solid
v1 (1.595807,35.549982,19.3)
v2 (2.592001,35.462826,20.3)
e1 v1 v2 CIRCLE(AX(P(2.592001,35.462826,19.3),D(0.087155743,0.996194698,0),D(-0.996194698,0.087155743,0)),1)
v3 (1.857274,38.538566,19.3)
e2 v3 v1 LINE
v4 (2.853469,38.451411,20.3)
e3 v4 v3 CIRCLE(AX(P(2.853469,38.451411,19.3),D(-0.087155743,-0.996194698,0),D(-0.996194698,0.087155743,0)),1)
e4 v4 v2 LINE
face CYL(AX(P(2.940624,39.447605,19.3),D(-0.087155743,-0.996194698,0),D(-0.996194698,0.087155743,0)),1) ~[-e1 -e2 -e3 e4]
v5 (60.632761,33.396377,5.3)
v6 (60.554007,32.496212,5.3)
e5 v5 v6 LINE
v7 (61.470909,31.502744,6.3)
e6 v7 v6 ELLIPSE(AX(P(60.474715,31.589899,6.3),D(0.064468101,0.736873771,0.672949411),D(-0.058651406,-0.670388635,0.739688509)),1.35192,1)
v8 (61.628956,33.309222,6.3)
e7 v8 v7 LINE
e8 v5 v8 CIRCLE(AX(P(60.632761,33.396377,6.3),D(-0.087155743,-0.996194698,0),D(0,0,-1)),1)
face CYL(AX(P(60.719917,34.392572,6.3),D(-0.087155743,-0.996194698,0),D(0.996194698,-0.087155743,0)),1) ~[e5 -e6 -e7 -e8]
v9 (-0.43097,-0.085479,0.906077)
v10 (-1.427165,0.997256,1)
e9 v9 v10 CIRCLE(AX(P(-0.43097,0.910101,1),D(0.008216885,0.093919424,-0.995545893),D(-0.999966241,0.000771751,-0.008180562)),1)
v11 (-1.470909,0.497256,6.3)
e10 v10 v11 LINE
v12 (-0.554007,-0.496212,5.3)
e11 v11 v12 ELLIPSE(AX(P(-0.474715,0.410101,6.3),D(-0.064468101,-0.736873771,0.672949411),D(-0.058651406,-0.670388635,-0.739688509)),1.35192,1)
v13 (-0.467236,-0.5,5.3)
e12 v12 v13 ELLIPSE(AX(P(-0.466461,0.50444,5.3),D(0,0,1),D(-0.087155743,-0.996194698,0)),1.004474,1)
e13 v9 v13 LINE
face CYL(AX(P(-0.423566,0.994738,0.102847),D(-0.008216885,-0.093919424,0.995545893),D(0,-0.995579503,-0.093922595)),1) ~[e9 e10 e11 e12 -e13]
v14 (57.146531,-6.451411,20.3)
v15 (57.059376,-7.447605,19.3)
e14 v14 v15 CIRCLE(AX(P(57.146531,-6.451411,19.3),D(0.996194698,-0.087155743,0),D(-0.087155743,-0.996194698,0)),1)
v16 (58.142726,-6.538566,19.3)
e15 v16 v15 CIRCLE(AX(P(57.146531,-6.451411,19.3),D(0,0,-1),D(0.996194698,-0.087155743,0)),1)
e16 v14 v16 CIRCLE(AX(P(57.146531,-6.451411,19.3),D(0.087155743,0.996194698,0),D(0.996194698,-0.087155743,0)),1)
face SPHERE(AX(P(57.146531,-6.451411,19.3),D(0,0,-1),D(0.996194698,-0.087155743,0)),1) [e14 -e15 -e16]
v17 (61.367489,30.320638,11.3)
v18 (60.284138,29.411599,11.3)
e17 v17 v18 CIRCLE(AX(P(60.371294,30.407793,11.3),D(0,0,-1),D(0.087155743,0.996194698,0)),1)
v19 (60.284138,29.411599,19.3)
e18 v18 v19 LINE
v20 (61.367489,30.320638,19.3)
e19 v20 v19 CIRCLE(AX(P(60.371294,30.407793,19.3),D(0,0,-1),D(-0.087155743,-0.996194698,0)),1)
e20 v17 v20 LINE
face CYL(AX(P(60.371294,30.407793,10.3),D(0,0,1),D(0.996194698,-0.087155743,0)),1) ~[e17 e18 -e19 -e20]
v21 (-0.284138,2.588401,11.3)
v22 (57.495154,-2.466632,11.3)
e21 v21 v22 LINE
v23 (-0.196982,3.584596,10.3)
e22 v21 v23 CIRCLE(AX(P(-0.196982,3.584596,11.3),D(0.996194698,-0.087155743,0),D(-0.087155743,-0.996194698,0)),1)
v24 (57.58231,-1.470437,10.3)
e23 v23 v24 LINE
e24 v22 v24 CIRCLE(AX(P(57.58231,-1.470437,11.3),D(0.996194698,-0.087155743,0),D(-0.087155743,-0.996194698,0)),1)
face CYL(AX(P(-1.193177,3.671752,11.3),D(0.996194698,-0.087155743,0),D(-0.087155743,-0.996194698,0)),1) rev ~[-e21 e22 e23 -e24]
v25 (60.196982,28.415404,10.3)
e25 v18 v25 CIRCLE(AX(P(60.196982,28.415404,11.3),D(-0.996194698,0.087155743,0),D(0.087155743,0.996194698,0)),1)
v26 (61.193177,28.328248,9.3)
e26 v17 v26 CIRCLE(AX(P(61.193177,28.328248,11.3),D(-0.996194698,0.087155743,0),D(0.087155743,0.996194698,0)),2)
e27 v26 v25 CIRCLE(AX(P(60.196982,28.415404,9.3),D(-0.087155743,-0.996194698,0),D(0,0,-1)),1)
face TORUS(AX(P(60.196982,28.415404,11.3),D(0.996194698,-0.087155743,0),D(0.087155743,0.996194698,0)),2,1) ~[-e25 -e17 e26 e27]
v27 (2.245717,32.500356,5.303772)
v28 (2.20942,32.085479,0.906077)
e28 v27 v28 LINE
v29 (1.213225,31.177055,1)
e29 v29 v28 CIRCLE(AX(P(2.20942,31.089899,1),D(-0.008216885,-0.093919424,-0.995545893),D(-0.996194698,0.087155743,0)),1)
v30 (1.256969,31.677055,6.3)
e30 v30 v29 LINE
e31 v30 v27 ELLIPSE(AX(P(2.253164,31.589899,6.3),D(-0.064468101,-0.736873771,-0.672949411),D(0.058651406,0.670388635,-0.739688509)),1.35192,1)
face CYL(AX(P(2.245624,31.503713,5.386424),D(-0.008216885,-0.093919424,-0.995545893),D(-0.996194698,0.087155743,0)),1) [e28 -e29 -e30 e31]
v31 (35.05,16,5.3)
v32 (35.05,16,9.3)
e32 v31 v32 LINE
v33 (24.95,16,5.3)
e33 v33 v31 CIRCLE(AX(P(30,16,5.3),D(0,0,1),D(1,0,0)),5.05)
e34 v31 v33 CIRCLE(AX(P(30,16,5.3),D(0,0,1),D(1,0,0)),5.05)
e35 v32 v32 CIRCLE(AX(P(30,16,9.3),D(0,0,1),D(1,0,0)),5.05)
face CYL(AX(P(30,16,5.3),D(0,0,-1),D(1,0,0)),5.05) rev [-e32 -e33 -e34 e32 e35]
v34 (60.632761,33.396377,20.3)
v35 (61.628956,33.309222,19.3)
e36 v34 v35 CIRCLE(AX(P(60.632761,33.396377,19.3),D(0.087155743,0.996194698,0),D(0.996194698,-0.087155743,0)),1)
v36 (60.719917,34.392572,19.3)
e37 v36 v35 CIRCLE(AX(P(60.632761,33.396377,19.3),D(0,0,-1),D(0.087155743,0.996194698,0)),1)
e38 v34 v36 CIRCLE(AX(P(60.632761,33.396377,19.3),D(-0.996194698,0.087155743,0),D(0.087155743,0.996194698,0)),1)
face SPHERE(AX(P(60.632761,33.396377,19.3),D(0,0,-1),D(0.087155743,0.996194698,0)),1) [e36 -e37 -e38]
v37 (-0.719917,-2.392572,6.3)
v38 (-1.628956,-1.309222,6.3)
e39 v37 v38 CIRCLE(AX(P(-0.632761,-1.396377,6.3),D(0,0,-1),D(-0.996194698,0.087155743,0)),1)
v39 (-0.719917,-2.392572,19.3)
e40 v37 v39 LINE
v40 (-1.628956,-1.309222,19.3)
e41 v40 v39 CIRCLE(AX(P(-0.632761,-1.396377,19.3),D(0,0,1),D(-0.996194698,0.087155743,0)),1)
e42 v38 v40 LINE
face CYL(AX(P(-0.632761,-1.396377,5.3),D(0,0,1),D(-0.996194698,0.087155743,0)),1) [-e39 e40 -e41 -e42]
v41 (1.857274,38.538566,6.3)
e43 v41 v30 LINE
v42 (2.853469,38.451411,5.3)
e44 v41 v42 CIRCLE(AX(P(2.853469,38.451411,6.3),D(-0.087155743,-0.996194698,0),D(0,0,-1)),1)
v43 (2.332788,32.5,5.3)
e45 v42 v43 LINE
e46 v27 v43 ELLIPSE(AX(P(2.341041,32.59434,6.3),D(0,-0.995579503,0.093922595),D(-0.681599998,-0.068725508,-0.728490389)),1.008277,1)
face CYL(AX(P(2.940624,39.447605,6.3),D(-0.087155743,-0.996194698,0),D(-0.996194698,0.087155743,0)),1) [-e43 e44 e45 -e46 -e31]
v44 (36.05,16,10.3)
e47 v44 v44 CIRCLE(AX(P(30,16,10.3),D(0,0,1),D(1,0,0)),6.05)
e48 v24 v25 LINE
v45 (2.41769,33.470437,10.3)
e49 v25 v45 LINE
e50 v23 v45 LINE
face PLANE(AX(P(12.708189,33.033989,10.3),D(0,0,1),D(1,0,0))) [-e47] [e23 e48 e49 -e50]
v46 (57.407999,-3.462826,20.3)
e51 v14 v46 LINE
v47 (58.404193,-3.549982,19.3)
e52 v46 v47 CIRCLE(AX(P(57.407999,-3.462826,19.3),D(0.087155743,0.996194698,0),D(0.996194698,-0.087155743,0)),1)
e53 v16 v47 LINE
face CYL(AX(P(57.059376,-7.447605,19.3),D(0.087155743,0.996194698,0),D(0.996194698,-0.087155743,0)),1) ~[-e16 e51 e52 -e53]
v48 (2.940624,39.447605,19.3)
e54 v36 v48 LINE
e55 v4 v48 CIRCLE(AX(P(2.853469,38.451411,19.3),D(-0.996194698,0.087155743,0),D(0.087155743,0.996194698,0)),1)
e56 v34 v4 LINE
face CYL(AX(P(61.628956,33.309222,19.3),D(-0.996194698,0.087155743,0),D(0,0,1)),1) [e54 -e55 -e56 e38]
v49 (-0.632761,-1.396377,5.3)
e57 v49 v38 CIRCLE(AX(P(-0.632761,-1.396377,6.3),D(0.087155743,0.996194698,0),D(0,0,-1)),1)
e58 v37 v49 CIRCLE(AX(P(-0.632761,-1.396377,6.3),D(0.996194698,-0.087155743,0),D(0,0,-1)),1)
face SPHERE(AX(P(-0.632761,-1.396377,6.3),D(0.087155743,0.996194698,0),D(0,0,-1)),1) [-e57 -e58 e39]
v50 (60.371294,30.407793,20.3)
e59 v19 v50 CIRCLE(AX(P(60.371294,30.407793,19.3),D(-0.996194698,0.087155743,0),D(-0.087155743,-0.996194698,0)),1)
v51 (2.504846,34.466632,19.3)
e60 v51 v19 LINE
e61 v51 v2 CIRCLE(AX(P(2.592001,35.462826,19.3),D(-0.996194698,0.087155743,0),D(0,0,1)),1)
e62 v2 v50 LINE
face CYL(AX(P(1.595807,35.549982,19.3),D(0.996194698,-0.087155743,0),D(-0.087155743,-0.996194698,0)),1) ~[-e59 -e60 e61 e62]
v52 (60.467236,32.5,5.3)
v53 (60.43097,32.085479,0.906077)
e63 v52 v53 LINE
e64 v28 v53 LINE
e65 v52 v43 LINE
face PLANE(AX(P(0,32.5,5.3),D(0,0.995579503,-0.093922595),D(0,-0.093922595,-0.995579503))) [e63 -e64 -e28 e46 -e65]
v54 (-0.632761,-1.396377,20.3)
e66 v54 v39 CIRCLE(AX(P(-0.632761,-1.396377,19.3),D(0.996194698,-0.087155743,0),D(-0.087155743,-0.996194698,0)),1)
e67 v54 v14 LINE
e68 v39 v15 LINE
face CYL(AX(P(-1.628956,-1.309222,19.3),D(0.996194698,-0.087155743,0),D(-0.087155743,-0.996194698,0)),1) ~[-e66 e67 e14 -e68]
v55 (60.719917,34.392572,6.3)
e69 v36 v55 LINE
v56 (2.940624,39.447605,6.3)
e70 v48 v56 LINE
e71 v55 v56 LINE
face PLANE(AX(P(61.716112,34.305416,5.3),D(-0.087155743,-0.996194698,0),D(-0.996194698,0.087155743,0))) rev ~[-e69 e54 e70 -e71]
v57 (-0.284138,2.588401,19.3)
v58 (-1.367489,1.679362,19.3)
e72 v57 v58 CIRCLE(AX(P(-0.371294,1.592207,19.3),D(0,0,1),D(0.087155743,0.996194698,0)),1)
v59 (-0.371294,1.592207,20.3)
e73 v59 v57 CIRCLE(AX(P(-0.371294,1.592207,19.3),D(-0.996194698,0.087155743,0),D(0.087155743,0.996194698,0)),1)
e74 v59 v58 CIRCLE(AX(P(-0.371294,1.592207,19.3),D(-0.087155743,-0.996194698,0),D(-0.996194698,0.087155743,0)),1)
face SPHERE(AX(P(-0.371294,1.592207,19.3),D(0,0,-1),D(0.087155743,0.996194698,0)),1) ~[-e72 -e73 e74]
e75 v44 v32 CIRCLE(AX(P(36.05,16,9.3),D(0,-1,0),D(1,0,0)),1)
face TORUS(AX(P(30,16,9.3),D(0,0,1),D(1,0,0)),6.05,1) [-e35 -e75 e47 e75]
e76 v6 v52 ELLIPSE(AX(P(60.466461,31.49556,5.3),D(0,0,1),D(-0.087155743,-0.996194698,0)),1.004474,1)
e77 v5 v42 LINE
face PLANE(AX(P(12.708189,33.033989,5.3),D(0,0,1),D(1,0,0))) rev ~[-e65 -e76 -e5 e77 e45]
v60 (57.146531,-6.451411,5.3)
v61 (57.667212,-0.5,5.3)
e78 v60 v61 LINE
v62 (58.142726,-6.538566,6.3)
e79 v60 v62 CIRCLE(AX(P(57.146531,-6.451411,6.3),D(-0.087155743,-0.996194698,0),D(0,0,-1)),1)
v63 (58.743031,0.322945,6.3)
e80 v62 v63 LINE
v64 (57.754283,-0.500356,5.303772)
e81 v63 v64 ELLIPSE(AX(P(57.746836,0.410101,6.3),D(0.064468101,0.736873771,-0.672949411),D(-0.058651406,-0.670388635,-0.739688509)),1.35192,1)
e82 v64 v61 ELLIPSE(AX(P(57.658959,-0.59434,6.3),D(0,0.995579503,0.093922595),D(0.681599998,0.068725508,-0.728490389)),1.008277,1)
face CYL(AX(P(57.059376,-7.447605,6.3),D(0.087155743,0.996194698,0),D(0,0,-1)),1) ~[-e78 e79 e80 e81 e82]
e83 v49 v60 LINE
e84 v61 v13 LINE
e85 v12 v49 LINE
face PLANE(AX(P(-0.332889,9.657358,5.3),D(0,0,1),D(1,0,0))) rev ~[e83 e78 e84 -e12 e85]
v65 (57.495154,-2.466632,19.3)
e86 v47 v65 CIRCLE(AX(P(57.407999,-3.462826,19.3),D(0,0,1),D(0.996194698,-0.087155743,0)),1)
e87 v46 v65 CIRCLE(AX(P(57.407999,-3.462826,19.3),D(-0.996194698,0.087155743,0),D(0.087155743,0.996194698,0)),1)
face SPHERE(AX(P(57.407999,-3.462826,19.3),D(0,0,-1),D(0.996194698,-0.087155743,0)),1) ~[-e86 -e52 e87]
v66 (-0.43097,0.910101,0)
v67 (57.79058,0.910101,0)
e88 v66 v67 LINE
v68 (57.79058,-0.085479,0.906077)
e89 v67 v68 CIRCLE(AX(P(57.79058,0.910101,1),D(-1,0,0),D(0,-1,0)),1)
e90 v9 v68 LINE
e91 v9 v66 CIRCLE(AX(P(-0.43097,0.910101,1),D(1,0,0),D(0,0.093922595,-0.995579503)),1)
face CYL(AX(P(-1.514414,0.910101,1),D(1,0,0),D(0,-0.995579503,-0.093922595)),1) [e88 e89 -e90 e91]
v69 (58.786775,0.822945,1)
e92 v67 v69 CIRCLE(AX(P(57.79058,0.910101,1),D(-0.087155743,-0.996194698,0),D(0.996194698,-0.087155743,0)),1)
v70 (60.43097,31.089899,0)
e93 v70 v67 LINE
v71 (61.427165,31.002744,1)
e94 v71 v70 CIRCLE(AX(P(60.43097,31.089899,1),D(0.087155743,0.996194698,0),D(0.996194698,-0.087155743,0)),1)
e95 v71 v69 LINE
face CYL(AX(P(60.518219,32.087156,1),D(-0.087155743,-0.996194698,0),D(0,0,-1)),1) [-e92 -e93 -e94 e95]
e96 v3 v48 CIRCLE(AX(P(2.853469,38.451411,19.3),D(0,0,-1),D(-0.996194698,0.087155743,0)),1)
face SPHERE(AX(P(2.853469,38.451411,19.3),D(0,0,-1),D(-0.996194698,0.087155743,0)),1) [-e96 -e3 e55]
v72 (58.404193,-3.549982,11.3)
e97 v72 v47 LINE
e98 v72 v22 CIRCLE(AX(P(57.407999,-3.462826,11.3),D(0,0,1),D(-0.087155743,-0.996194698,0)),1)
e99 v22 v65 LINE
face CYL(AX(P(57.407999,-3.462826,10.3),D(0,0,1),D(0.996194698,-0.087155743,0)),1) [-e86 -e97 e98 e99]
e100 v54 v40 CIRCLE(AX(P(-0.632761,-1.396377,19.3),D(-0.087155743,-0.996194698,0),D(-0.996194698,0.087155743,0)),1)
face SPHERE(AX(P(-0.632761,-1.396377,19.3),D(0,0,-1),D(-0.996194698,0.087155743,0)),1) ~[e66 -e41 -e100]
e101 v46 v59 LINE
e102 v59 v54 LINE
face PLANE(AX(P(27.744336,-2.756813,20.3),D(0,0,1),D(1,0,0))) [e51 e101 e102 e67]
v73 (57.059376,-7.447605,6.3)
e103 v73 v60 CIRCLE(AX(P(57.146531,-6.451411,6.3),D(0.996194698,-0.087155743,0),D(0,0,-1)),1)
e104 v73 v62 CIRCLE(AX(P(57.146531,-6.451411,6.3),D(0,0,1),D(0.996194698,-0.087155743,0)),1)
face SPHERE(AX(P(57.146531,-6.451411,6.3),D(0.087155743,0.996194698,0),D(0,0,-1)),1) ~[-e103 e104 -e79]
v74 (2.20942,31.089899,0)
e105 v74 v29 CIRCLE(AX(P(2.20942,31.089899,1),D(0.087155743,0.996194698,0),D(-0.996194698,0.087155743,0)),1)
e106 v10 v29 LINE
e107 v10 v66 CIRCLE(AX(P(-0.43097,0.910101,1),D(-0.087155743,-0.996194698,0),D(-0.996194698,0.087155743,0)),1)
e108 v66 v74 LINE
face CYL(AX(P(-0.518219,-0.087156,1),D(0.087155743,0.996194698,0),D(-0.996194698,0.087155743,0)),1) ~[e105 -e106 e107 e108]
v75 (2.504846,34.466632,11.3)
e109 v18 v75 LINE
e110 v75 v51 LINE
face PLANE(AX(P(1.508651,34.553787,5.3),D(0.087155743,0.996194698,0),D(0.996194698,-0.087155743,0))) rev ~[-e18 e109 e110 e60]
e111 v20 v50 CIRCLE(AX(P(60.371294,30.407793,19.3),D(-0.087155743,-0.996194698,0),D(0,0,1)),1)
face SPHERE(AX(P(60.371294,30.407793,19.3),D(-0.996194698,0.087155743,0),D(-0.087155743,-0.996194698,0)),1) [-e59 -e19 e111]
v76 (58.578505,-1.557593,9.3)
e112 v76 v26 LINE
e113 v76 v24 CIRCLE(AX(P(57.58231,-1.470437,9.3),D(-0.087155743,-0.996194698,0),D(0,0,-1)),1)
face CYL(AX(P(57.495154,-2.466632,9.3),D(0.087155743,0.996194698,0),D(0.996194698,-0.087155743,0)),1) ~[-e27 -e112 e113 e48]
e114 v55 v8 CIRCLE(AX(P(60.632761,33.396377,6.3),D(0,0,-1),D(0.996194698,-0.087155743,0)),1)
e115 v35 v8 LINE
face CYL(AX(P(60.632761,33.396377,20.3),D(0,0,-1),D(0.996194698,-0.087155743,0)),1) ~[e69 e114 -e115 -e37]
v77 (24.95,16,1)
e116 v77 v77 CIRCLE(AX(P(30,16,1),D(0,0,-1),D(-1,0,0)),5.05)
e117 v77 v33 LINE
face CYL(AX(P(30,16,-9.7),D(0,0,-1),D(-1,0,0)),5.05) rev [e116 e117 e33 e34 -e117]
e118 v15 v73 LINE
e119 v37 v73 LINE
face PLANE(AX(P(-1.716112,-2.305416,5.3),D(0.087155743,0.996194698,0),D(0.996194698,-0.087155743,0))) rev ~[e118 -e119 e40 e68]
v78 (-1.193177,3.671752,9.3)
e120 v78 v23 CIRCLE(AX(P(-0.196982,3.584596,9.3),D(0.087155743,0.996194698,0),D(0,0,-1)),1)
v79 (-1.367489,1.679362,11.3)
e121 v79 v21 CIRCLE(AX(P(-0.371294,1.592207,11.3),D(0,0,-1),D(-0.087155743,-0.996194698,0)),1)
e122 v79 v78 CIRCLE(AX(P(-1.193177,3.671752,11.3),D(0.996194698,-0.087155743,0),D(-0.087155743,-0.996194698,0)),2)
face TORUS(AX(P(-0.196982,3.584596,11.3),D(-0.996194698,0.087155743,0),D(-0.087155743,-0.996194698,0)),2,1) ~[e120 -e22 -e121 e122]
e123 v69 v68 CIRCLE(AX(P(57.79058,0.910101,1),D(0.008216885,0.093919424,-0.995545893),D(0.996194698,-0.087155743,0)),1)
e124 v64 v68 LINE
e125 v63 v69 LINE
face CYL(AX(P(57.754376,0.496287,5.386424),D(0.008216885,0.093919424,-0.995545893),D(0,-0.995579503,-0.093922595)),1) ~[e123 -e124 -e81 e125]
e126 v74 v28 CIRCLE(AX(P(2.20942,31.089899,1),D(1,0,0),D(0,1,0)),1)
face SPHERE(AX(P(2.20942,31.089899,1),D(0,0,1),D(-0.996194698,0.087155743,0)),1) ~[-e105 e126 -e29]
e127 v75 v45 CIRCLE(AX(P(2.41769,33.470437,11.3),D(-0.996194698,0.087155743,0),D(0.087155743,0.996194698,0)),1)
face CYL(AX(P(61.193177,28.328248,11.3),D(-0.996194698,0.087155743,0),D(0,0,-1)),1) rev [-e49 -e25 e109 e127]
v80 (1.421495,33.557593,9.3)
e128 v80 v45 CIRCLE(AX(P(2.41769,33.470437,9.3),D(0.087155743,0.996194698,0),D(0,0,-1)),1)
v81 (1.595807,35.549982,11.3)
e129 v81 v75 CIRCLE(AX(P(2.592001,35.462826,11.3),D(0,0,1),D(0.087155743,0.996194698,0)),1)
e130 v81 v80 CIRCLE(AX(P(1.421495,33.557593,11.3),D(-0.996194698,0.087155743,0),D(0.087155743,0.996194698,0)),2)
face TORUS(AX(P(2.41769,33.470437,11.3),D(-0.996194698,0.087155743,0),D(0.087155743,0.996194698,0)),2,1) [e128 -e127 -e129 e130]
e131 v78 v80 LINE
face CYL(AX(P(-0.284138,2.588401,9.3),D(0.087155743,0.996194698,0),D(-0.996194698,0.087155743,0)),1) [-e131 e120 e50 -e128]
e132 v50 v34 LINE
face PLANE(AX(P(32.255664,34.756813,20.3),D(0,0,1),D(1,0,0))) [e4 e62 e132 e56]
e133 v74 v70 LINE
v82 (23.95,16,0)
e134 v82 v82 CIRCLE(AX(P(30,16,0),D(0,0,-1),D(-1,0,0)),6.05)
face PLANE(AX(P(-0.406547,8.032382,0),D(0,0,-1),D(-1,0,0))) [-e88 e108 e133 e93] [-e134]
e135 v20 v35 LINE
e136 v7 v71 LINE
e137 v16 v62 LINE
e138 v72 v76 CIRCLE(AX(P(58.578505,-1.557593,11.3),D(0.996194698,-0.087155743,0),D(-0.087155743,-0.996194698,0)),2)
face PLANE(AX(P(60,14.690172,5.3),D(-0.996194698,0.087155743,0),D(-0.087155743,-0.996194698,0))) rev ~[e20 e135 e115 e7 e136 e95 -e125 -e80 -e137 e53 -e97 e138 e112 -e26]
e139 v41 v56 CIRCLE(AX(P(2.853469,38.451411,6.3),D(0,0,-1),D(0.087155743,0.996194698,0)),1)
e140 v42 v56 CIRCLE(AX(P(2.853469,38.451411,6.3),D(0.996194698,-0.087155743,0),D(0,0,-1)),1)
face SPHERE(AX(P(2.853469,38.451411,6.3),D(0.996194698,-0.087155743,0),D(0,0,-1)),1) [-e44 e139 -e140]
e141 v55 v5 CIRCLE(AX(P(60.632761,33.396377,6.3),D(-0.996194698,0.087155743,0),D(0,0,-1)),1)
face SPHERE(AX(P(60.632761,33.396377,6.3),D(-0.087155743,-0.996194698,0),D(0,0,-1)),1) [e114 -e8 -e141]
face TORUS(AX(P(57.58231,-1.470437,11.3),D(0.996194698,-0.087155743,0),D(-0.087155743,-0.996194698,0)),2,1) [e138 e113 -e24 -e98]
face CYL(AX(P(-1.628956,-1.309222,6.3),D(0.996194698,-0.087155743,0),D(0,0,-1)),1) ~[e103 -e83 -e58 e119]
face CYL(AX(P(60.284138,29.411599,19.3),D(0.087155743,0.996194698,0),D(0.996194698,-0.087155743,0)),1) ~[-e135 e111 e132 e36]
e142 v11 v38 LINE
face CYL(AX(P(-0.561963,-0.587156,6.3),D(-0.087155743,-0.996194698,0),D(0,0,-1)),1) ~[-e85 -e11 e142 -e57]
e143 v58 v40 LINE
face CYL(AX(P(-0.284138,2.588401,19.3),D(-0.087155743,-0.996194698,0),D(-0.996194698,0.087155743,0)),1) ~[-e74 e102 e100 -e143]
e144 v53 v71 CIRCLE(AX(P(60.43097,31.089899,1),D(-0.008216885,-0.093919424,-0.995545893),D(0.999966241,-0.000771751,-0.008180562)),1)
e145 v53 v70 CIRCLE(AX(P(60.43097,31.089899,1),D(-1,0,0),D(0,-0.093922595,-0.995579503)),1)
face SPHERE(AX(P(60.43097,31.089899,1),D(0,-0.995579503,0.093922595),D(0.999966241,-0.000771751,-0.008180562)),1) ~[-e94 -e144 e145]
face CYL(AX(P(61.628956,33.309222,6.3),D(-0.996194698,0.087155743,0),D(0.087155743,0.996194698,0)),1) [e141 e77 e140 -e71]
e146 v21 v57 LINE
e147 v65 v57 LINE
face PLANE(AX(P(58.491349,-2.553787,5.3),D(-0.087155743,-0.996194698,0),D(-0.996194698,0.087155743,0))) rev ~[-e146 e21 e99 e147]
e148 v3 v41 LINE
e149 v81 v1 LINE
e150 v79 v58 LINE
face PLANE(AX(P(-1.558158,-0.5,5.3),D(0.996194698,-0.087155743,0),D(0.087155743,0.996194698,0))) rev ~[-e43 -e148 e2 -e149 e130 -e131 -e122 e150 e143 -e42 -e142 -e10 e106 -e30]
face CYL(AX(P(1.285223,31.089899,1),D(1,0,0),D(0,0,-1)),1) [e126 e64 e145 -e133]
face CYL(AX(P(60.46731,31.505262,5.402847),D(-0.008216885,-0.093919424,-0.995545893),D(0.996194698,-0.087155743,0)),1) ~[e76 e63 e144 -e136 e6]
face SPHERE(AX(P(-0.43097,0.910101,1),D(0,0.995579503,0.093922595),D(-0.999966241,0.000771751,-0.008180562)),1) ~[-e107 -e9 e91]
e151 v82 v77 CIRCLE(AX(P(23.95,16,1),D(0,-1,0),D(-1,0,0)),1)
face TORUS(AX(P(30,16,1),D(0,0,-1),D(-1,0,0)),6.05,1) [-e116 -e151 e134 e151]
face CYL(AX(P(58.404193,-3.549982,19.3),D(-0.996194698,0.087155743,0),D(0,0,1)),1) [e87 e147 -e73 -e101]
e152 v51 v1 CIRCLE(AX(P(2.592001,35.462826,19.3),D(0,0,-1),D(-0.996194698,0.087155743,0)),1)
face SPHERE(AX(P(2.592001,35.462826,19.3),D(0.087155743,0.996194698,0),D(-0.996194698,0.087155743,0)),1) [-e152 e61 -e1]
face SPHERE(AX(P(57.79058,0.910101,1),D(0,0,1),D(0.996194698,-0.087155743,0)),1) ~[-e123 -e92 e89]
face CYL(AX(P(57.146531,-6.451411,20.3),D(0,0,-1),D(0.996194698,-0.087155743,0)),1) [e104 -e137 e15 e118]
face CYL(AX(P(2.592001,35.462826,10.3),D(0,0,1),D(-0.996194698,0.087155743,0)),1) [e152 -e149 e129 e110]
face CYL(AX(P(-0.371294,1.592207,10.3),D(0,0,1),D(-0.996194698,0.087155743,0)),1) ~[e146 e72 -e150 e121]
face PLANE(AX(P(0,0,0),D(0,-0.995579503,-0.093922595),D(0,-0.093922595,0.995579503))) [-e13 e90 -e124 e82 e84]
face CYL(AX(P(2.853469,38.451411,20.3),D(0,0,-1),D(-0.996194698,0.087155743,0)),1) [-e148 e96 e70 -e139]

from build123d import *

# Parameters (mm, degrees)
SKETCH1_W           = 60.00000000000001
SKETCH1_H           = 32
BOSS_EXTRUDE1_DEPTH = 5.3
BOSS_EXTRUDE2_DEPTH = 60
SKETCH4_R           = 5.050000000000001
BOSS_EXTRUDE3_DEPTH = 5
BOSS_EXTRUDE4_DEPTH = 15
BOSS_EXTRUDE5_DEPTH = 5.3
CUT_EXTRUDE1_DEPTH  = 10
CUT_EXTRUDE2_DEPTH  = 5
CUT_EXTRUDE3_DEPTH  = 5
CUT_EXTRUDE4_START  = -15
SKETCH4_4_R         = 5.050000000000001
CUT_EXTRUDE4_DEPTH  = 15
FILLET1_R           = 1


with BuildPart() as part:
    # Sketch1 → Boss-Extrude1 (new body)
    with BuildSketch(Plane.XY):
        with Locations((30.000000000000004, 16)):
            Rectangle(SKETCH1_W, SKETCH1_H)
    extrude(amount=BOSS_EXTRUDE1_DEPTH)

    # Sketch3 → Boss-Extrude2 (add)
    with BuildSketch(Plane.ZY):
        Polygon((5.29999999999999, 32), (5.29999999999999, 32.5), (0, 32), align=None)
        Polygon((5.3, -0.5), (5.3, 0), (0, 0), align=None)
    extrude(amount=-BOSS_EXTRUDE2_DEPTH)

    # Sketch4 → Boss-Extrude3 (add)
    # profile 1 of 9: a face of its own
    with BuildSketch(Plane.XY.offset(5.3)):
        Polygon((1.3289678218773275, 32.5), (24.983548935155518, 32.5), (1.5086509412101563, 34.55378745189766), align=None)
    # profile 2 of 9: a face of its own
    with BuildSketch(Plane.XY.offset(5.3)):
        Polygon((0, 2.5635425050841554), (35.01645106484395, -0.4999999999999578), (58.671032178122694, -0.5000000000000004), (59.999999999999964, 14.690171712744215), (60, 29.43645749491585), (24.983548935155518, 32.5), (1.3289678218773275, 32.5), (-4e-15, 17.309828287255154), align=None)
        with Locations((30, 16)):
            Circle(SKETCH4_R, mode=Mode.SUBTRACT)
    # profile 3 of 9: a face of its own
    with BuildSketch(Plane.XY.offset(5.3)):
        Polygon((0, -0.5000000000000004), (35.01645106484395, -0.5000000000000004), (0, 2.5635425050841554), align=None)
    # profile 4 of 9: a face of its own
    with BuildSketch(Plane.XY.offset(5.3)):
        Polygon((58.055570345051585, -7.534760942356384), (58.49134905878986, -2.553787451897688), (35.01645106484395, -0.4999999999999578), (0, -0.5000000000000004), (0, 2.5635425050841576), (-1.2803328267148615, 2.675557112961807), (-1.7161115404531533, -2.3054163774969894), align=None)
    # profile 5 of 9: a face of its own
    with BuildSketch(Plane.XY.offset(5.3)):
        Polygon((35.01645106484395, -0.4999999999999578), (58.49134905878986, -2.5537874518976778), (58.671032178122694, -0.5000000000000071), align=None)
    # profile 6 of 9: a face of its own
    with BuildSketch(Plane.XY.offset(5.3)):
        Polygon((59.999999999999964, 14.690171712744215), (61.28033282671488, 29.324442887038195), (60, 29.436457494915846), align=None)
    # profile 7 of 9: a face of its own
    with BuildSketch(Plane.XY.offset(5.3)):
        Polygon((24.983548935155518, 32.5), (60, 29.436457494915846), (60, 32.5), align=None)
    # profile 8 of 9: a face of its own
    with BuildSketch(Plane.XY.offset(5.3)):
        Polygon((60, 29.436457494915846), (61.28033282671488, 29.324442887038195), (61.71611154045317, 34.305416377497), (1.944429654948438, 39.5347609423564), (1.5086509412101552, 34.55378745189767), (24.983548935155518, 32.5), (60, 32.5), align=None)
    # profile 9 of 9: a face of its own
    with BuildSketch(Plane.XY.offset(5.3)):
        Polygon((-1.2803328267148615, 2.675557112961807), (0, 2.5635425050841554), (0, 17.309828287255158), align=None)
    extrude(amount=BOSS_EXTRUDE3_DEPTH)

    # Sketch4<3> → Boss-Extrude4 (add)
    with BuildSketch(Plane.XY.offset(5.3)):
        Polygon((60, 29.436457494915846), (61.28033282671488, 29.324442887038195), (61.71611154045317, 34.305416377497), (1.944429654948438, 39.5347609423564), (1.5086509412101552, 34.55378745189767), (24.983548935155518, 32.5), (60, 32.5), align=None)
        Polygon((24.983548935155518, 32.5), (60, 29.436457494915846), (60, 32.5), align=None)
        Polygon((58.055570345051585, -7.534760942356384), (58.49134905878986, -2.553787451897688), (35.01645106484395, -0.4999999999999578), (0, -0.5000000000000004), (0, 2.5635425050841576), (-1.2803328267148615, 2.675557112961807), (-1.7161115404531533, -2.3054163774969894), align=None)
        Polygon((0, -0.5000000000000004), (35.01645106484395, -0.5000000000000004), (0, 2.5635425050841554), align=None)
    extrude(amount=BOSS_EXTRUDE4_DEPTH)

    # Sketch6 → Boss-Extrude5 (add)
    with BuildSketch(Plane(origin=(0, 0, 5.3), x_dir=(-1, 0, 0), z_dir=(0, 0, -1))):
        Polygon((-2.2e-16, 17.3098282872552), (0, -0.5000000000000004), (1.558158074478129, -0.499999999999997), align=None)
        Polygon((-60.00000000000001, 14.690171712744698), (-60, 32.5), (-61.55815807447815, 32.5), align=None)
    extrude(amount=BOSS_EXTRUDE5_DEPTH)

    # Sketch5 → Cut-Extrude1 (cut)
    with BuildSketch(Plane.XY.offset(5.3)):
        Polygon((58.671032178122694, -0.5000000000000004), (60, -0.5000000000000004), (60.00000000000001, 14.690171712744698), align=None)
        Polygon((1.328967821877318, 32.5), (0, 32.5), (2.2e-16, 17.3098282872552), align=None)
    extrude(amount=-CUT_EXTRUDE1_DEPTH, mode=Mode.SUBTRACT)

    # Sketch7 → Cut-Extrude2 (cut)
    with BuildSketch(Plane(origin=(0, 0, 0), x_dir=(0, 0, -1), z_dir=(1, -1e-17, 0))):
        Polygon((0, -0.5000000000000004), (3.2e-16, 3.5e-15), (-5.3, -0.5000000000000004), align=None)
    extrude(amount=-CUT_EXTRUDE2_DEPTH, mode=Mode.SUBTRACT)

    # Sketch8 → Cut-Extrude3 (cut)
    with BuildSketch(Plane.ZY.offset(-60.000000000000014)):
        Polygon((5.299999999999987, 32.49999999999998), (0, 31.99999999999998), (0, 32.49999999999998), align=None)
    extrude(amount=-CUT_EXTRUDE3_DEPTH, mode=Mode.SUBTRACT)

    # Sketch4<4> → Cut-Extrude4 (cut)
    with BuildSketch(Plane.XY.offset(5.3).offset(CUT_EXTRUDE4_START)):
        with Locations(Location((30, 16, 0), (0, 0, 180))):
            Circle(SKETCH4_4_R)
    extrude(amount=CUT_EXTRUDE4_DEPTH, mode=Mode.SUBTRACT)

    # Fillet1
    fillet1_edges = [part.edges().sort_by_distance(p)[0] for p in [
        (-1.637134807465641, -1.402708188748493, 5.3),
        (58.692904344004184, -0.25000000000000244, 2.65),
        (1.307095655995838, 32.25, 2.6499999999999977),
        (-0.11459512630040658, 16.000000000000004, 0),
        (-1.5362859085966487, -0.24999999999999853, 2.65),
        (60.11459512630042, 15.999999999999996, 0),
        (61.53628590859667, 32.25, 2.6499999999999937),
        (35.05, 16, 0),
        (58.36330126158714, -4.017380471178193, 5.3),
        (61.63713480746566, 33.4027081887485, 5.3),
        (31.830270597700803, 36.920088659926705, 5.3),
        (1.6366987384128773, 36.0173804711782, 5.299999999999997),
        (1.944429654948438, 39.5347609423564, 12.8),
        (28.169729402299218, -4.920088659926687, 5.3),
        (-1.7161115404531533, -2.3054163774969894, 12.8),
        (58.055570345051585, -7.534760942356385, 12.8),
        (61.71611154045317, 34.305416377497, 12.8),
        (24.95, 16, 10.3),
        (31.399818616414773, 32, 0),
        (28.60018138358524, 1.74e-15, -8e-17),
        (0.11415905724764364, 18.61467228242972, 10.3),
        (59.885840942752374, 13.38532771757026, 10.3),
        (31.394491883962516, 31.939115169467932, 10.3),
        (1.7265402980792965, 37.04427419712704, 20.3),
        (1.5086509412101559, 34.55378745189766, 15.3),
        (31.39449188396252, 31.93911516946793, 20.3),
        (61.28033282671488, 29.324442887038195, 15.3),
        (31.830270597700803, 36.920088659926705, 20.3),
        (61.498222183584026, 31.814929632267596, 20.3),
        (28.605508116037498, 0.06088483053206062, 10.3),
        (58.49134905878986, -2.5537874518976826, 15.3),
        (-1.2803328267148655, 2.675557112961773, 15.3),
        (58.27345970192072, -5.044274197127036, 20.3),
        (28.605508116037498, 0.06088483053204508, 20.3),
        (-1.4982221835840113, 0.18507036773237484, 20.3),
        (28.169729402299218, -4.920088659926687, 20.3),
    ]]
    fillet(fillet1_edges, radius=FILLET1_R)


solid = part.part
